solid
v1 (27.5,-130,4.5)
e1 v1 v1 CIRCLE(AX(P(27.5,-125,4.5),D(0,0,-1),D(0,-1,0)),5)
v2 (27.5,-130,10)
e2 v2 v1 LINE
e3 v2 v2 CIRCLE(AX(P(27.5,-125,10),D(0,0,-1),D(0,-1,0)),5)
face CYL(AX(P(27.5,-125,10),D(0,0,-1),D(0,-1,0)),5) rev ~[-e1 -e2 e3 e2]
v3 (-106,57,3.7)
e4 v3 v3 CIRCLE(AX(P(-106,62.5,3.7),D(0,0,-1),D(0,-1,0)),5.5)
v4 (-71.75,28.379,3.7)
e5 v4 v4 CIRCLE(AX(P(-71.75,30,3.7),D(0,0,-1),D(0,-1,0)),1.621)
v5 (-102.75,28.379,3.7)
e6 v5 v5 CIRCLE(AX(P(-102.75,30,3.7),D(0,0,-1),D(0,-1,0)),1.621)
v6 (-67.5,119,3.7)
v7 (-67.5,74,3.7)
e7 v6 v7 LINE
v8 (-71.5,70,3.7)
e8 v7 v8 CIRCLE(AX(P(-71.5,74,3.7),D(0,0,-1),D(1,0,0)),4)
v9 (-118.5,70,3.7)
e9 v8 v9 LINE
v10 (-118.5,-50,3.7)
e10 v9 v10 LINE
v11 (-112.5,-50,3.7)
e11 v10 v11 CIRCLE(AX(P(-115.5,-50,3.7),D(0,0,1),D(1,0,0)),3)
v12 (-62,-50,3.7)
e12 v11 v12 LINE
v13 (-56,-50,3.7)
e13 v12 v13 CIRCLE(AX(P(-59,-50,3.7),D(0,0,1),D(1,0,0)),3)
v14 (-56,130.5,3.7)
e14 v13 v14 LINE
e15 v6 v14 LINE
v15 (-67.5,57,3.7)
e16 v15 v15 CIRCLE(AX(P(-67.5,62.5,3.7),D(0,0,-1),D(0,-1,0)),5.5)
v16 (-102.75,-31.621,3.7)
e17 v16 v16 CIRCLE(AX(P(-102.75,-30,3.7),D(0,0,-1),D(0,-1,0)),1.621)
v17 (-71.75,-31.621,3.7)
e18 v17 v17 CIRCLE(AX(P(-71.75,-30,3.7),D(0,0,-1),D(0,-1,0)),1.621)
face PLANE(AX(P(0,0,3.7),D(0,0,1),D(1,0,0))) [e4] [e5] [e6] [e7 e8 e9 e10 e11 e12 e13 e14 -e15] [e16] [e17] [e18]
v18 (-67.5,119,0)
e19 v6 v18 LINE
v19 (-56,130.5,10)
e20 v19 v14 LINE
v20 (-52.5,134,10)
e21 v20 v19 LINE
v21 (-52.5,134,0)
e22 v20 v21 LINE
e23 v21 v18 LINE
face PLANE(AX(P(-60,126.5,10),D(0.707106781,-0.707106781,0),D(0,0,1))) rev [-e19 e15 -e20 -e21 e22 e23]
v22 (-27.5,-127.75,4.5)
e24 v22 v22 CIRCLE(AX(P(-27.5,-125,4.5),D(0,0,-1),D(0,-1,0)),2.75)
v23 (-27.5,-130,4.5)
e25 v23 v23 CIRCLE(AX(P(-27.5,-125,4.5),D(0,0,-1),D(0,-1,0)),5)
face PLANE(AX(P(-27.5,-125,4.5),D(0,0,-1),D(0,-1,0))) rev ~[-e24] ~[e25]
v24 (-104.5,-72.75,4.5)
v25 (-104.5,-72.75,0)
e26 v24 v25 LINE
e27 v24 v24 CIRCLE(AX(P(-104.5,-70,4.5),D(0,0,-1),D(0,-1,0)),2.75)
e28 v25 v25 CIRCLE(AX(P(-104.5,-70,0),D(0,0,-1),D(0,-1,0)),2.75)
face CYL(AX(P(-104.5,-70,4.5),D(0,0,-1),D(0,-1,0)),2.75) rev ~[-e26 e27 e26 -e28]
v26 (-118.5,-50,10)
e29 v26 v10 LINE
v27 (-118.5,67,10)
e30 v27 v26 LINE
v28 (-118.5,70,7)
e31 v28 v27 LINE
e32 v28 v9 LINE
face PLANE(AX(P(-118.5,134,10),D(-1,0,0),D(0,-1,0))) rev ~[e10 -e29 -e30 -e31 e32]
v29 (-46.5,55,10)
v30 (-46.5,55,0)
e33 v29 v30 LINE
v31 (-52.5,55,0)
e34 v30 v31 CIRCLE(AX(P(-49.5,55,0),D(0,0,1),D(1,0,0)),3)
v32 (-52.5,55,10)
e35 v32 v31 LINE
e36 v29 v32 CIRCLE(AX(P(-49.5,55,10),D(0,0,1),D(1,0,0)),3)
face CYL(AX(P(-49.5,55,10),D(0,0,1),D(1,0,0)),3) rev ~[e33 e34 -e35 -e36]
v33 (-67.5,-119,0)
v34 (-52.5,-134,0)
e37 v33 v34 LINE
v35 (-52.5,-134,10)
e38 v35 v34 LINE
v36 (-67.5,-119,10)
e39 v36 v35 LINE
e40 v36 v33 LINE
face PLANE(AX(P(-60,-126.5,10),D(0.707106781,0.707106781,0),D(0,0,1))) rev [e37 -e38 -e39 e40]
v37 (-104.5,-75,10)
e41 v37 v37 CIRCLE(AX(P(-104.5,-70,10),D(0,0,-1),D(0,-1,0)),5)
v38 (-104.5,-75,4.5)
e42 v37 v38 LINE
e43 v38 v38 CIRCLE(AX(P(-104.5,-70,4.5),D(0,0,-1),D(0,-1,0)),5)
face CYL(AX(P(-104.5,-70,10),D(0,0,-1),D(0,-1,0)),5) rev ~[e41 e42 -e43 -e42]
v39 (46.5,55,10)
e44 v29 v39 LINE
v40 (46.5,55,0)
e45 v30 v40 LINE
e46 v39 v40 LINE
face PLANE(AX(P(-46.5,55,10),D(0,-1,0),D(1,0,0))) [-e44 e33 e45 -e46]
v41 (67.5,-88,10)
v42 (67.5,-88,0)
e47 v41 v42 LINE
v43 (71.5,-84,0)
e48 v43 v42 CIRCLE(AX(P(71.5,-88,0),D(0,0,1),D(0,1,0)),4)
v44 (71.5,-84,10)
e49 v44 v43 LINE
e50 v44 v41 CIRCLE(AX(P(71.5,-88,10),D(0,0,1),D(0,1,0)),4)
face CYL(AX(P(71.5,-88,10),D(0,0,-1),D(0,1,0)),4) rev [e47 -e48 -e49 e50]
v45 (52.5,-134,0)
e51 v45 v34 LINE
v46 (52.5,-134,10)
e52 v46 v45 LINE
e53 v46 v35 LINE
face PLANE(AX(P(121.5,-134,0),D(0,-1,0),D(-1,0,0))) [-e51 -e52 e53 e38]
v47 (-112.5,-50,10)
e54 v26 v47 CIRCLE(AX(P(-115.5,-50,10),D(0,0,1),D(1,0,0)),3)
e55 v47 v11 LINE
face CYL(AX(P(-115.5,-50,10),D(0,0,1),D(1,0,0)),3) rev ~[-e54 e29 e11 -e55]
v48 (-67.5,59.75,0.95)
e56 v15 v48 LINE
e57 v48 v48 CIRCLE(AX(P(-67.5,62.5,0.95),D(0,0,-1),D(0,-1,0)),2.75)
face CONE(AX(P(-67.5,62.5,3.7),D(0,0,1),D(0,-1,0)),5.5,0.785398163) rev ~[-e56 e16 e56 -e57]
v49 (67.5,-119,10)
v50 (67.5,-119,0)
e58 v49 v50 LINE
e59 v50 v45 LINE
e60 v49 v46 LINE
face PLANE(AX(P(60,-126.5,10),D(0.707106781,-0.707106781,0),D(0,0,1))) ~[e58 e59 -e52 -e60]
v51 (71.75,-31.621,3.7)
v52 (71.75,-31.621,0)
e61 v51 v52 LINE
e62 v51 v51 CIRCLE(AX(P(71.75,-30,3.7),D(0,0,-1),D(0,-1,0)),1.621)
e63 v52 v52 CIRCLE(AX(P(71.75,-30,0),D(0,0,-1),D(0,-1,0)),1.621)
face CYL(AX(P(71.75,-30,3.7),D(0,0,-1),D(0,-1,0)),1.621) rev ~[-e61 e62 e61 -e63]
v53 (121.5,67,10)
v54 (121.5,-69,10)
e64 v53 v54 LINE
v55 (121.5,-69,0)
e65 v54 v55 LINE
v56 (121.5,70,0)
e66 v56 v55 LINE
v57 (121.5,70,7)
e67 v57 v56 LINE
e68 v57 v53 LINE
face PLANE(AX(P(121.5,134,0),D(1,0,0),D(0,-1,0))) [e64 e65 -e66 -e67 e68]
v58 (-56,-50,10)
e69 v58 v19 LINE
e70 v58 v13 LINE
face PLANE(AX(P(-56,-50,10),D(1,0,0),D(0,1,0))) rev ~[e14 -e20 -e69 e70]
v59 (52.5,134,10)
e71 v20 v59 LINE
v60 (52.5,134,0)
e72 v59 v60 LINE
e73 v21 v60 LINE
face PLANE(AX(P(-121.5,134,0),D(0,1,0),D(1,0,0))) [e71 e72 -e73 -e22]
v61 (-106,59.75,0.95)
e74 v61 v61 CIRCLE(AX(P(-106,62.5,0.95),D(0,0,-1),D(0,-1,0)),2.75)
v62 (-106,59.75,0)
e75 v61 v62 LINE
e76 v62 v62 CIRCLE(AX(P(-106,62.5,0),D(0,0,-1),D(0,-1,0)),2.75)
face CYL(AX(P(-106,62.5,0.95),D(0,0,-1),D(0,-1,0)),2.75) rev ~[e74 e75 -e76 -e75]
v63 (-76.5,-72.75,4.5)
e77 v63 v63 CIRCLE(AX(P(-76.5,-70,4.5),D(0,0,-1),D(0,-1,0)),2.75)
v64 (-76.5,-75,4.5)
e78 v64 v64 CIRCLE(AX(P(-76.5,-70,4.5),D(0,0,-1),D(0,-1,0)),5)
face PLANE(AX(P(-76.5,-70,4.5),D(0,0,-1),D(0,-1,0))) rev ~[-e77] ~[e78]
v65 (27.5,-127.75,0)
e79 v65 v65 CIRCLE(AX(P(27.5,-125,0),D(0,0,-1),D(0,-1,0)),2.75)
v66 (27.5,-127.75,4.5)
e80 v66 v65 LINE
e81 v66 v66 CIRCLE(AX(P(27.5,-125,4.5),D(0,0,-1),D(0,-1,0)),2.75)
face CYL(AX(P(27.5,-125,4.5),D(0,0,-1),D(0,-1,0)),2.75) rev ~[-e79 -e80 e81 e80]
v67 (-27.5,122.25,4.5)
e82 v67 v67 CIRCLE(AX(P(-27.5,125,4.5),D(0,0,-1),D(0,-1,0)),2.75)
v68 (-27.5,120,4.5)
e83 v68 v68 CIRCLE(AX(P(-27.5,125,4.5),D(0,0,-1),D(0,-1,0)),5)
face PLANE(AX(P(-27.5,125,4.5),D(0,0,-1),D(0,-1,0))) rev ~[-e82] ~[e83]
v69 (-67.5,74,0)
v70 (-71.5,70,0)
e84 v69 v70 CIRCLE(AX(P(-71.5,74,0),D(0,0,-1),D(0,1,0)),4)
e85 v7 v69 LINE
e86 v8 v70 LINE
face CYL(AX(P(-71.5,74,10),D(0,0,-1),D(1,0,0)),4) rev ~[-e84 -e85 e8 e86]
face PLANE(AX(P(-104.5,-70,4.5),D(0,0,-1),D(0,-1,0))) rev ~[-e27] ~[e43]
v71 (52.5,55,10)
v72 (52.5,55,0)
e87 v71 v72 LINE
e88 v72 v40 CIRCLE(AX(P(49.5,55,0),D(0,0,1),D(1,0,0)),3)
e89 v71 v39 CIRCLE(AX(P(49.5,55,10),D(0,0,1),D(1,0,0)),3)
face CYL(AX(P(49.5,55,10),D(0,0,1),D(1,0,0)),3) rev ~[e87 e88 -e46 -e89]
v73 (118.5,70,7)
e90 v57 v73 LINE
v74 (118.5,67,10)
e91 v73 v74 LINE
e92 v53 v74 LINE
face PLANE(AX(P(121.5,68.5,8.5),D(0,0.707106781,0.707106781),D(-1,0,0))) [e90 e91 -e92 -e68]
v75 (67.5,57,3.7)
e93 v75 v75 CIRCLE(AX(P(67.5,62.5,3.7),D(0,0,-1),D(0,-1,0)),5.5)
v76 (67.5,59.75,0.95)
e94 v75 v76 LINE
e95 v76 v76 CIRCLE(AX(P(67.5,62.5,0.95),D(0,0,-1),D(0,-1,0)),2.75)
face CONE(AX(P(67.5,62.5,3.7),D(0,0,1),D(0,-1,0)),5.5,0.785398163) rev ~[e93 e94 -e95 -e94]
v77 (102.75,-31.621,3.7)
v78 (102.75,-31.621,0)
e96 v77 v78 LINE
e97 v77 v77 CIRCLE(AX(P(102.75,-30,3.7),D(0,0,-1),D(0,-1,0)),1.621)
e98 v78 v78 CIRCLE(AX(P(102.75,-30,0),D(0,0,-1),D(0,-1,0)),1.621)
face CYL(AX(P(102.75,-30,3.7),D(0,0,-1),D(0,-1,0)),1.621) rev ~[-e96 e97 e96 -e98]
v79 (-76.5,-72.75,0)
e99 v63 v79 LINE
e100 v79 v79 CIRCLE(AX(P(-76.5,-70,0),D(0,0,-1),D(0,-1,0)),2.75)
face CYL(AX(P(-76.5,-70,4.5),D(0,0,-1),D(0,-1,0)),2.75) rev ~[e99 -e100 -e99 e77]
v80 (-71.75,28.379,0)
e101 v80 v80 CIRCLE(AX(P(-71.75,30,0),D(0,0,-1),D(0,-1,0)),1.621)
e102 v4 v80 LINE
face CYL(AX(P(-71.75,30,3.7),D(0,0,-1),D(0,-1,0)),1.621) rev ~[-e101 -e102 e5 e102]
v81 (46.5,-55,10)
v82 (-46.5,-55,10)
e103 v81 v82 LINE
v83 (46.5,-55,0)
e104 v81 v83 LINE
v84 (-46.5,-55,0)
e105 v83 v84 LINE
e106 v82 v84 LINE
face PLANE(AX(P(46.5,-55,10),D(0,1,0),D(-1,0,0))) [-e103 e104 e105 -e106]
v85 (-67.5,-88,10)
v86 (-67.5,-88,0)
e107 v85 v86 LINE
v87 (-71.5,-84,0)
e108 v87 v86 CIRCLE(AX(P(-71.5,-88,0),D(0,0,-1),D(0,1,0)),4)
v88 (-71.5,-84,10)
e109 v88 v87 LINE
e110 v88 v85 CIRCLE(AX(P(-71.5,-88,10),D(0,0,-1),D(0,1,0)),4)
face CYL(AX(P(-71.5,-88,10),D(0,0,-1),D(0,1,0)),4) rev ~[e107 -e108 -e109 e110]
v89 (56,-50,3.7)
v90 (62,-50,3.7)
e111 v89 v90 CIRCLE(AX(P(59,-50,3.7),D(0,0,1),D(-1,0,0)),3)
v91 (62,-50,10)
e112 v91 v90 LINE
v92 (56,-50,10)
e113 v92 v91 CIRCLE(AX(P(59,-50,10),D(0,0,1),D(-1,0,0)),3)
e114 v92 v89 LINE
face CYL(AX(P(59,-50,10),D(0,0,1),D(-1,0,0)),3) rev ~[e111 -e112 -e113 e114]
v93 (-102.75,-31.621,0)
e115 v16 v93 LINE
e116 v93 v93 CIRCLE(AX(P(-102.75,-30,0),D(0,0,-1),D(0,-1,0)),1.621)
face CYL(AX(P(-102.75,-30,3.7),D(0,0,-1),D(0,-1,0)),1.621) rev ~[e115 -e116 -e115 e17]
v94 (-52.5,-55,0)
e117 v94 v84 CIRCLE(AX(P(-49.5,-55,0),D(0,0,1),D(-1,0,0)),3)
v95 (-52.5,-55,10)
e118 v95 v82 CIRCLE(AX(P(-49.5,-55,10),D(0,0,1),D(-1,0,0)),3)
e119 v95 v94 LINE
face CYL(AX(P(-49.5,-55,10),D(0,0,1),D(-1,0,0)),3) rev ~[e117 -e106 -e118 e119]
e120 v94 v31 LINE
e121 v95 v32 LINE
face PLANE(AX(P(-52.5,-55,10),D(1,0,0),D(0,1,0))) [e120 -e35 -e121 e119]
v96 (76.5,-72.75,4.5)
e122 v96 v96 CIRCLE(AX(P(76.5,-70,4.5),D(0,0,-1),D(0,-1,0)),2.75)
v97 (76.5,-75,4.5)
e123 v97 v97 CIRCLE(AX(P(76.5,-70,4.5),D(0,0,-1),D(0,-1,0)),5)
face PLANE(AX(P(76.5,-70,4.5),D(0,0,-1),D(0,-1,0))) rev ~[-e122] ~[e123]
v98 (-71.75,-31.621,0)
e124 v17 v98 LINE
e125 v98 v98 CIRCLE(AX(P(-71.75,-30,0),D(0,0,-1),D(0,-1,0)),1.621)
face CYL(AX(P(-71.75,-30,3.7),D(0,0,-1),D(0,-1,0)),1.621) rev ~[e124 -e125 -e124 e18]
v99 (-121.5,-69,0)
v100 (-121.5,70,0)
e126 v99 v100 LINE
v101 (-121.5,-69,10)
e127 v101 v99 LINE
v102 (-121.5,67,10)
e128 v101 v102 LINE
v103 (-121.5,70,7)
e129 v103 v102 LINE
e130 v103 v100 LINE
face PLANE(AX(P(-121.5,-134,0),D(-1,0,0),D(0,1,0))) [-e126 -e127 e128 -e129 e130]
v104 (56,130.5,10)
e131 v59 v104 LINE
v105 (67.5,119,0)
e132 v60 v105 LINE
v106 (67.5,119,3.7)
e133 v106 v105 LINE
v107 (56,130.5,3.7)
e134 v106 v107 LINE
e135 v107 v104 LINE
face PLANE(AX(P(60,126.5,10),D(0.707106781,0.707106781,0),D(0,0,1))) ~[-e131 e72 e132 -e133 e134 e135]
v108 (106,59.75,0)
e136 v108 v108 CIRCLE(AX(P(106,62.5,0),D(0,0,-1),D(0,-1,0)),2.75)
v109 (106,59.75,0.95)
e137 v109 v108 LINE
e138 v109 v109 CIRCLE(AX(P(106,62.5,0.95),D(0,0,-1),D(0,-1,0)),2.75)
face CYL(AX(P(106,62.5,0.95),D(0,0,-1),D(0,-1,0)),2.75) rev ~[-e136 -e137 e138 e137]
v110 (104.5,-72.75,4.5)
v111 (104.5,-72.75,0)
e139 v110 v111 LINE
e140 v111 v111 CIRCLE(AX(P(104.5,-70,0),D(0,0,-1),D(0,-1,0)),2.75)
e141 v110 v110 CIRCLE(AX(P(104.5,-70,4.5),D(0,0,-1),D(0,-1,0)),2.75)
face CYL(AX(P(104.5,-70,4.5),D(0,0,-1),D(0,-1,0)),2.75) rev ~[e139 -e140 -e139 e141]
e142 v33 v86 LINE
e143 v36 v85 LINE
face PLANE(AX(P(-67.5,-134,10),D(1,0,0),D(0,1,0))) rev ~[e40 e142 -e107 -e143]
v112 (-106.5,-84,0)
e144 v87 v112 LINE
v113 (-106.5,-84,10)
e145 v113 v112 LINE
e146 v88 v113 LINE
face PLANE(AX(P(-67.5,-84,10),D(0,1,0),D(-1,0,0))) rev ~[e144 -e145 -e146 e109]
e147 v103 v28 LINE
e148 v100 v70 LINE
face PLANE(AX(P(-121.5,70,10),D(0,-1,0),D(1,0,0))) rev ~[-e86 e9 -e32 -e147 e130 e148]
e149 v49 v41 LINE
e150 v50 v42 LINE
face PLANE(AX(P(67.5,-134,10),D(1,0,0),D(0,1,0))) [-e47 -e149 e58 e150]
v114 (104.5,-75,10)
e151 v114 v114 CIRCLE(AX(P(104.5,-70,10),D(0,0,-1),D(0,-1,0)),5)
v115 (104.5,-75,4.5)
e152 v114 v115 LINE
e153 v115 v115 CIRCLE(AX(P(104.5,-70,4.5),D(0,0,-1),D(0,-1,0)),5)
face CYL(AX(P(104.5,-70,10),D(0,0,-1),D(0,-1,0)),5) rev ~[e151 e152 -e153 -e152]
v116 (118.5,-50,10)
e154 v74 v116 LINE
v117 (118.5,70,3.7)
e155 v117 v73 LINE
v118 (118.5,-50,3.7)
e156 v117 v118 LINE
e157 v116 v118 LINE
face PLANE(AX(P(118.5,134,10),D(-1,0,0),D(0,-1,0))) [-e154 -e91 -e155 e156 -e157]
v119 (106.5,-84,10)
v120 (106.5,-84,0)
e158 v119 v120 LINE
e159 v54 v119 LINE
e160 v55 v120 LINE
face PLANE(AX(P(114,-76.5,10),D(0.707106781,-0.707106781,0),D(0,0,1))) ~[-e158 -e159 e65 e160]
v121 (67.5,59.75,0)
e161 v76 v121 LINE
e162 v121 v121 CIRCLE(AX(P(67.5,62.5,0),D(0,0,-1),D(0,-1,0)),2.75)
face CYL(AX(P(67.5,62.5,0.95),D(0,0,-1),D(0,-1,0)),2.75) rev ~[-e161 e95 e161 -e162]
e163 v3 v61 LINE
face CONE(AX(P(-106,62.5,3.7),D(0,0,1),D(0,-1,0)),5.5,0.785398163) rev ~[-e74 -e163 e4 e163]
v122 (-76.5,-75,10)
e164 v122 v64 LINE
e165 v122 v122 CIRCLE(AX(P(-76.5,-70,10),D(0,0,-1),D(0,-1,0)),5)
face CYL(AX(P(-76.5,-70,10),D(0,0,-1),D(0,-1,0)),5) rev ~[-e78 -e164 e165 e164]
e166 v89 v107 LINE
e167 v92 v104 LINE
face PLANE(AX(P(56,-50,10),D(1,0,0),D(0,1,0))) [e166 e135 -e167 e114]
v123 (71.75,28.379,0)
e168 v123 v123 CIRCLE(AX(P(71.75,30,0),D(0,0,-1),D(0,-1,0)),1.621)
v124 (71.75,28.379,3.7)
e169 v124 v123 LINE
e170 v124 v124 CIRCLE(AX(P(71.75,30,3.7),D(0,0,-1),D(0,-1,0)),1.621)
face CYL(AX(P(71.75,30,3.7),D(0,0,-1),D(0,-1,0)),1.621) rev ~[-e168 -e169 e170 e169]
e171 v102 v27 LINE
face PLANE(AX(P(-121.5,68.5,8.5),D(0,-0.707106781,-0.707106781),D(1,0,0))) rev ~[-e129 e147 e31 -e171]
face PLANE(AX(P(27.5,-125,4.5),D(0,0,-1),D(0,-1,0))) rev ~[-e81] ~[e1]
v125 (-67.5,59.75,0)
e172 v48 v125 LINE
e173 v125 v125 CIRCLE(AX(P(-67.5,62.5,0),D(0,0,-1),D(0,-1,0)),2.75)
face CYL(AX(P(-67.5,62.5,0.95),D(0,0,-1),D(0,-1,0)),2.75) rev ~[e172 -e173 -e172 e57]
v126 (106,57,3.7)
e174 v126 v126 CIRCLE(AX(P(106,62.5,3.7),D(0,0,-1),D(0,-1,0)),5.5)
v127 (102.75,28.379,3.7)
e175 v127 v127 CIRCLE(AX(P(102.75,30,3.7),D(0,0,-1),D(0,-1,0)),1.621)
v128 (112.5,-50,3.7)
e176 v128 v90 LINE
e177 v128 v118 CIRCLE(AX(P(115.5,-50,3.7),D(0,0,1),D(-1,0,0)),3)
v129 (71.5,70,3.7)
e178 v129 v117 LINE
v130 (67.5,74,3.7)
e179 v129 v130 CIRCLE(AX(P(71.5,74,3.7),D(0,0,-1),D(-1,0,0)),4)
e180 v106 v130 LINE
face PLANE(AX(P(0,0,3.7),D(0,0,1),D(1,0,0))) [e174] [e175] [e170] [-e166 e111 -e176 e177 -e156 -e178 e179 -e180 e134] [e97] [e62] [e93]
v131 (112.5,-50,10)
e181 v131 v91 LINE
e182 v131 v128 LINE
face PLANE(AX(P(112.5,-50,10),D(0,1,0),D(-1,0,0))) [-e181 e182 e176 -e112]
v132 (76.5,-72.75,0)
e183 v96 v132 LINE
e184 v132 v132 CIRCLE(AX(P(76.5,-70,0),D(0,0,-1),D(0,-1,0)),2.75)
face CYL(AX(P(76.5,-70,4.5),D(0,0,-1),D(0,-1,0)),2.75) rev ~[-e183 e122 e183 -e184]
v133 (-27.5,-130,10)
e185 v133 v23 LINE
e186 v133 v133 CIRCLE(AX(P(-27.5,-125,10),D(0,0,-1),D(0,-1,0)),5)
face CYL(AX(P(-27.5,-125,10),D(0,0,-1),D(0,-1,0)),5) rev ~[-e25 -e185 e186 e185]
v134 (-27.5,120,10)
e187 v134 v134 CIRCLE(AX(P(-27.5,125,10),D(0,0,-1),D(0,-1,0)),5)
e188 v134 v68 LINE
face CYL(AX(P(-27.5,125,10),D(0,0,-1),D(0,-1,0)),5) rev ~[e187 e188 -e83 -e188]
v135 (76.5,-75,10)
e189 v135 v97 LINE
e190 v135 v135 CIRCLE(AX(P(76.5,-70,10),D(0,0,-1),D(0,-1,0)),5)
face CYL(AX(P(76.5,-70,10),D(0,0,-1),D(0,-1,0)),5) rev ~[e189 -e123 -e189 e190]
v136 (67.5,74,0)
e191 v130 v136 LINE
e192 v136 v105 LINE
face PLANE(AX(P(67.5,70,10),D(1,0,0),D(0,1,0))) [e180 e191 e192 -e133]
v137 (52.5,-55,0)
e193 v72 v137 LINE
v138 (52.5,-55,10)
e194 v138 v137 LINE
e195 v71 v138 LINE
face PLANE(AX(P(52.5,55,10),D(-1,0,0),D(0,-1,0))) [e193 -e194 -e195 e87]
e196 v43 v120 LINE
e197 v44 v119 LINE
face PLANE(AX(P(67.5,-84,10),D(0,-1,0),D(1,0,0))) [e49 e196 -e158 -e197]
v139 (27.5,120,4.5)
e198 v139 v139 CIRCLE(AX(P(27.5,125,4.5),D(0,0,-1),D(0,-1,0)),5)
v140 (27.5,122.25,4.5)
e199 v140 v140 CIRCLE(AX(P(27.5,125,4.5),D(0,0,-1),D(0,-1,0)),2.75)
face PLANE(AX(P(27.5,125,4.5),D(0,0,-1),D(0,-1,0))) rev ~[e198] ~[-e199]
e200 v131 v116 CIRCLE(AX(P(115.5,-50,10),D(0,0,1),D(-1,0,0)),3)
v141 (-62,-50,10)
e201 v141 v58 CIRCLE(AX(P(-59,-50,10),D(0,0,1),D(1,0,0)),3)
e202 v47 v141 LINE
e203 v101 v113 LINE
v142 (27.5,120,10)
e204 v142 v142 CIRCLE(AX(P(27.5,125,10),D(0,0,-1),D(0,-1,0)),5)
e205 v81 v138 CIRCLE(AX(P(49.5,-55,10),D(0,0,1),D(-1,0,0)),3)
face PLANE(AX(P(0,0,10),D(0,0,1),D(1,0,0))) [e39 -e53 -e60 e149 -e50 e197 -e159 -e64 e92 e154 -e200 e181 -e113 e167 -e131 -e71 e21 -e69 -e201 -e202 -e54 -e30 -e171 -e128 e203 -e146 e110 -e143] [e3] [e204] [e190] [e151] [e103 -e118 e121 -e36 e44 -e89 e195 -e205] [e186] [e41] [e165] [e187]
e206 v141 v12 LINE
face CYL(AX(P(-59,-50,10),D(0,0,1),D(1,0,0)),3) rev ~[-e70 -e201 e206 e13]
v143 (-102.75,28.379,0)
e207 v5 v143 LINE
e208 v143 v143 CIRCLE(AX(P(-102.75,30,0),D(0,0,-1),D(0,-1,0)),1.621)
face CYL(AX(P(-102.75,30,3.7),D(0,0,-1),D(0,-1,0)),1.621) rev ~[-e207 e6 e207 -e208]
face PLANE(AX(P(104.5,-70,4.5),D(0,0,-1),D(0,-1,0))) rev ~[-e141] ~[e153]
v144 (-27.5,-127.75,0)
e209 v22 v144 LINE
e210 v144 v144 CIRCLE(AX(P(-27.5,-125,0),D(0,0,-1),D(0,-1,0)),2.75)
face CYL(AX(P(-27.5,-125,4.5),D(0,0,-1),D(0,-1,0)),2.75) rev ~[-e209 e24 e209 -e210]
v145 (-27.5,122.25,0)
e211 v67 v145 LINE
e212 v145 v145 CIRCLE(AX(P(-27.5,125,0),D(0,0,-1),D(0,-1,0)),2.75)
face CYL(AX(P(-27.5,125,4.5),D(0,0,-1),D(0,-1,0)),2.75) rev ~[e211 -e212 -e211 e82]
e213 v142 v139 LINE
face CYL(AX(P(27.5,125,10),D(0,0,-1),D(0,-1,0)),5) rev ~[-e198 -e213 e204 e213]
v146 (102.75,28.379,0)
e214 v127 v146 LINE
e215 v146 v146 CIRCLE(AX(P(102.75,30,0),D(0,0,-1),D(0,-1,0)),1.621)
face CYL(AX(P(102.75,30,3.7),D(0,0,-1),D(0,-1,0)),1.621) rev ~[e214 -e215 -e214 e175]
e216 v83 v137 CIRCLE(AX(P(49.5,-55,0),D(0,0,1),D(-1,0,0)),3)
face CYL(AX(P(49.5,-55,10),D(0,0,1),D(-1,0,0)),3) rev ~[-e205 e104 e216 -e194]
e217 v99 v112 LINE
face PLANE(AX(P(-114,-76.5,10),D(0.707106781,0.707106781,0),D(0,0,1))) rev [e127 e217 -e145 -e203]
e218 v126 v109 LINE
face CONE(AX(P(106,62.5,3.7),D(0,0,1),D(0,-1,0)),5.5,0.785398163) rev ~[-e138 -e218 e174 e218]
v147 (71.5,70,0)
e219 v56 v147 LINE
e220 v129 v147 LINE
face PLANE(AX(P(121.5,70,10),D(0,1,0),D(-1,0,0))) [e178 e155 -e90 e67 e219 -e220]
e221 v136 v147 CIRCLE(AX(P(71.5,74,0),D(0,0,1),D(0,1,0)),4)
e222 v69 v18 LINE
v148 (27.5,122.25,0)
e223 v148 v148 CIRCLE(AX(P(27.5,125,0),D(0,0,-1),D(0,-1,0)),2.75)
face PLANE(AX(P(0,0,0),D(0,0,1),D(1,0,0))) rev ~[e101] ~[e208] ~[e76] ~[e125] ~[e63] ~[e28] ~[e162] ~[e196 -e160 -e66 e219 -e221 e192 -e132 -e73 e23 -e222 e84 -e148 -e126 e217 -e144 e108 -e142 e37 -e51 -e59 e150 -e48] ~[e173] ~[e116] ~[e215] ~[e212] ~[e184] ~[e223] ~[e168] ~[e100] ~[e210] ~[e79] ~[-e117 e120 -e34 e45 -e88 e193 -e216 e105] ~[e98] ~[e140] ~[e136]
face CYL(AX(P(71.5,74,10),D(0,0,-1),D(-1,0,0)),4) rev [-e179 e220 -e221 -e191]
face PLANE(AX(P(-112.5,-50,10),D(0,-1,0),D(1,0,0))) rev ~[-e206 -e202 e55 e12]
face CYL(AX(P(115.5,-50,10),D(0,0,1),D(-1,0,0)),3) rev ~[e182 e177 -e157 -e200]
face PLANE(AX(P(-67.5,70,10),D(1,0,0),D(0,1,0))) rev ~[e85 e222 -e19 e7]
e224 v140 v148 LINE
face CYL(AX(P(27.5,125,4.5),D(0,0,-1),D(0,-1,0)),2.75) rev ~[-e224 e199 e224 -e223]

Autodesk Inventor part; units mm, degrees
ref_plane "YZ Plane" through (0, 0, 0) normal (1, 0, 0) x (0, 1, 0)
ref_plane "XZ Plane" through (0, 0, 0) normal (0, 1, 0) x (-1, 0, 0)
ref_plane "XY Plane" through (0, 0, 0) normal (0, 0, 1) x (1, 0, 0)
sketch "Sketch5" plane through (0, 0, 0) normal (0, 0, 1) x (1, 0, 0)
  line L0 (-121.5, 134) -> (121.5, 134)
  line L1 (121.5, 134) -> (121.5, -134)
  line L2 (121.5, -134) -> (-121.5, -134)
  line L3 (-121.5, -134) -> (-121.5, 134)
  point P0 (0, 0)
  point P1 (0, 134)
  point P2 (121.5, 0)
  dimension "d8" = 243
  dimension "d43" = 268
extrude "Extrusion5" add sketch "Sketch5" along normal blind 10
sketch "Sketch6" plane through (0, 0, 10) normal (0, 0, 1) x (1, 0, 0)
  line L0 (-52.5, 55) -> (52.5, 55)
  line L1 (52.5, 55) -> (52.5, -55)
  line L2 (52.5, -55) -> (-52.5, -55)
  line L3 (-52.5, -55) -> (-52.5, 55)
  arc A0 (46.5, -55) -> (52.5, -55) centre (49.5, -55) ccw
  arc A1 (-52.5, -55) -> (-46.5, -55) centre (-49.5, -55) ccw
  arc A2 (-46.5, 55) -> (-52.5, 55) centre (-49.5, 55) ccw
  arc A3 (52.5, 55) -> (46.5, 55) centre (49.5, 55) ccw
  point P0 (0, 0)
  point P1 (-52.5, 0)
  point P2 (0, -55)
  dimension "d12" = 105
  dimension "d13" = 110
  dimension "d108" = 6
extrude "Extrusion6" cut sketch "Sketch6" against normal through all
sketch "Sketch7" plane through (0, 0, 10) normal (0, 0, 1) x (1, 0, 0)
  line L0 (121.5, 134) -> (-121.5, 134) projected
  line L1 (121.5, -134) -> (121.5, 134) projected
  line L2 (121.5, 70) -> (67.5, 70)
  line L3 (67.5, 70) -> (67.5, 134)
  line L4 (67.5, 134) -> (121.5, 134)
  line L5 (121.5, 134) -> (121.5, 70)
  line L6 (0, 0) -> (0, 14.6341) construction
  circle A0 centre (27.5, 125) radius 4.5
  circle A1 centre (-27.5, 125) radius 4.5
  line L7 (-121.5, 70) -> (-67.5, 70)
  line L8 (-67.5, 70) -> (-67.5, 134)
  line L9 (-67.5, 134) -> (-121.5, 134)
  line L10 (-121.5, 134) -> (-121.5, 70)
  line L11 (121.5, -134) -> (67.5, -134)
  line L12 (67.5, -134) -> (67.5, -84)
  line L13 (67.5, -84) -> (121.5, -84)
  line L14 (121.5, -84) -> (121.5, -134)
  circle A2 centre (27.5, -78) radius 4.5
  circle A3 centre (-27.5, -78) radius 4.5
  line L15 (-121.5, -134) -> (-67.5, -134)
  line L16 (-67.5, -134) -> (-67.5, -84)
  line L17 (-67.5, -84) -> (-121.5, -84)
  line L18 (-121.5, -84) -> (-121.5, -134)
  line L19 (-121.5, -134) -> (121.5, -134) projected
  point P0 (-121.5, -69)
  dimension "d23" = 64
  dimension "d63" = 67.5
  dimension "d88" = 50
  dimension "d89" = 54
  dimension "d90" = 54
extrude "Extrusion7" cut sketch "Sketch7" against normal through all contours L1 L2 L3 L0 | L15 L18 L17 L16 | L1 L11 L12 L13 | L8 L7 L10 L0
sketch "Sketch8" plane through (0, 0, 10) normal (0, 0, 1) x (1, 0, 0)
  line L0 (0, 0) -> (0, 14.6341) construction
  circle A0 centre (27.5, -125) radius 4.5
  circle A1 centre (-27.5, -125) radius 4.5
  circle A2 centre (27.5, 125) radius 4.5
  circle A3 centre (-27.5, 125) radius 4.5
  circle A4 centre (76.5, -70) radius 4.5
  circle A5 centre (-76.5, -70) radius 4.5
  circle A6 centre (104.5, -70) radius 4.5
  circle A7 centre (-104.5, -70) radius 4.5
  dimension "d28" = 55
  dimension "d29" = 27.5
  dimension "d30" = 9
  dimension "d31" = 250
  dimension "d41" = 55
  dimension "d48" = 153
  dimension "d49" = 76.5
  dimension "d50" = 55
  dimension "d51" = 125
  dimension "d53" = 28
  dimension "d54" = 28
hole "Hole1" at (27.5, -125, 10) at (-27.5, -125, 10) at (-27.5, 125, 10) at (27.5, 125, 10) at (104.5, -70, 10) at (76.5, -70, 10) at (-76.5, -70, 10) at (-104.5, -70, 10) direction (0, 0, -1) diameter 5.5 end through all counterbore diameter 10 counterbore depth 5.5 clearance for "Socket Head Cap Screw DIN EN ISO 4762" size "M5" standard "DIN"
chamfer "Chamfer1" distance 15 angle 45 4 edges at (-67.5, 134, 5) (67.5, 134, 5) (67.5, -134, 5) (-67.5, -134, 5)
fillet "Fillet2" radius 4 4 edges at (67.5, 70, 5) (-67.5, 70, 5) (67.5, -84, 5) (-67.5, -84, 5)
sketch "Sketch10" plane through (0, 0, 10) normal (0, 0, 1) x (1, 0, 0)
  line L0 (121.5, -84) -> (121.5, 70) projected
  line L1 (118.5, -50) -> (56, -50)
  line L2 (56, -50) -> (56, 134)
  line L3 (56, 134) -> (118.5, 134)
  line L4 (118.5, 134) -> (118.5, -50)
  line L5 (0, 0) -> (0, -20.3736) construction
  line L6 (-118.5, -50) -> (-56, -50)
  line L7 (-56, -50) -> (-56, 134)
  line L8 (-56, 134) -> (-118.5, 134)
  line L9 (-118.5, 134) -> (-118.5, -50)
  line L10 (52.5, 134) -> (-52.5, 134) projected
  arc A0 (112.5, -50) -> (118.5, -50) centre (115.5, -50) ccw
  arc A1 (56, -50) -> (62, -50) centre (59, -50) ccw
  circle A2 centre (-115.5, -50) radius 3
  circle A3 centre (-59, -50) radius 3
  point P0 (-112.5, -50)
  dimension "d57" = 62.5
  dimension "d59" = 56
  dimension "d60" = 3
  dimension "d101" = 50
  dimension "d107" = 6
extrude "Extrusion8" cut sketch "Sketch10" against normal blind 6.3
sketch "Sketch11" plane through (0, 0, 3.7) normal (0, 0, 1) x (1, 0, 0)
  line L0 (56, -50) -> (56, 130.5) projected
  line L1 (118.5, -50) -> (56, -50) projected
  circle A0 centre (102.75, -30) radius 2
  circle A1 centre (71.75, -30) radius 2
  circle A2 centre (102.75, 30) radius 2
  circle A3 centre (71.75, 30) radius 2
  line L2 (0, 0) -> (0, -13.697) construction
  circle A4 centre (-102.75, -30) radius 2
  circle A5 centre (-71.75, -30) radius 2
  circle A6 centre (-102.75, 30) radius 2
  circle A7 centre (-71.75, 30) radius 2
  point P0 (57.5, 50)
  point P1 (56, 130.5)
  dimension "d65" = 60
  dimension "d66" = 20
  dimension "d67" = 31
  dimension "d68" = 15.75
  dimension "d69" = 4
hole "Hole2" at (102.75, -30, 3.7) at (71.75, -30, 3.7) at (71.75, 30, 3.7) at (102.75, 30, 3.7) at (-71.75, 30, 3.7) at (-102.75, 30, 3.7) at (-102.75, -30, 3.7) at (-71.75, -30, 3.7) direction (0, 0, -1) diameter 3.242 end through all thread size "M4x0.7" class "6H" standard "ISO Metric profile"
sketch "Sketch12" plane through (0, 0, 3.7) normal (0, 0, 1) x (1, 0, 0)
  line L0 (121.5, 70) -> (71.5, 70)
  circle A0 centre (106, 62.5) radius 3
  line L1 (0, 0) -> (0, 4.9934) construction
  circle A1 centre (-106, 62.5) radius 3
  circle A2 centre (67.5, 62.5) radius 3
  line L2 (-52.5, -55) -> (-52.5, 55) projected
  line L3 (46.5, -55) -> (-46.5, -55) projected
  circle A3 centre (-67.5, 62.5) radius 3
  point P0 (121.5, -134)
  point P1 (-52.5, 0)
  point P2 (0, -55)
  dimension "d78" = 7.5
  dimension "d80" = 6
  dimension "d98" = 106
  dimension "d99" = 106
  dimension "d105" = 6
  dimension "d106" = 38.5
hole "Hole3" at (106, 62.5, 3.7) at (-106, 62.5, 3.7) at (67.5, 62.5, 3.7) at (-67.5, 62.5, 3.7) direction (0, 0, -1) diameter 5.5 end through all countersink diameter 11 countersink angle 90 clearance for "Countersunk Flat Head Screw DIN EN ISO 2009" size "M5" standard "DIN"
chamfer "Chamfer5" distance 15 angle 45 2 edges at (121.5, -84, 5) (-121.5, -84, 5)
chamfer "Chamfer6" distance 3 angle 45 2 edges at (120, 70, 10) (-120, 70, 10)
equation "\"d90\" = d89"
equation "\"d29\" = 0.5 * d28"
equation "\"d49\" = 0.5 * d48"
equation "\"d51\" = 0.5 * d31"
properties part number "BC-10021" material "Alumínio 7075"
